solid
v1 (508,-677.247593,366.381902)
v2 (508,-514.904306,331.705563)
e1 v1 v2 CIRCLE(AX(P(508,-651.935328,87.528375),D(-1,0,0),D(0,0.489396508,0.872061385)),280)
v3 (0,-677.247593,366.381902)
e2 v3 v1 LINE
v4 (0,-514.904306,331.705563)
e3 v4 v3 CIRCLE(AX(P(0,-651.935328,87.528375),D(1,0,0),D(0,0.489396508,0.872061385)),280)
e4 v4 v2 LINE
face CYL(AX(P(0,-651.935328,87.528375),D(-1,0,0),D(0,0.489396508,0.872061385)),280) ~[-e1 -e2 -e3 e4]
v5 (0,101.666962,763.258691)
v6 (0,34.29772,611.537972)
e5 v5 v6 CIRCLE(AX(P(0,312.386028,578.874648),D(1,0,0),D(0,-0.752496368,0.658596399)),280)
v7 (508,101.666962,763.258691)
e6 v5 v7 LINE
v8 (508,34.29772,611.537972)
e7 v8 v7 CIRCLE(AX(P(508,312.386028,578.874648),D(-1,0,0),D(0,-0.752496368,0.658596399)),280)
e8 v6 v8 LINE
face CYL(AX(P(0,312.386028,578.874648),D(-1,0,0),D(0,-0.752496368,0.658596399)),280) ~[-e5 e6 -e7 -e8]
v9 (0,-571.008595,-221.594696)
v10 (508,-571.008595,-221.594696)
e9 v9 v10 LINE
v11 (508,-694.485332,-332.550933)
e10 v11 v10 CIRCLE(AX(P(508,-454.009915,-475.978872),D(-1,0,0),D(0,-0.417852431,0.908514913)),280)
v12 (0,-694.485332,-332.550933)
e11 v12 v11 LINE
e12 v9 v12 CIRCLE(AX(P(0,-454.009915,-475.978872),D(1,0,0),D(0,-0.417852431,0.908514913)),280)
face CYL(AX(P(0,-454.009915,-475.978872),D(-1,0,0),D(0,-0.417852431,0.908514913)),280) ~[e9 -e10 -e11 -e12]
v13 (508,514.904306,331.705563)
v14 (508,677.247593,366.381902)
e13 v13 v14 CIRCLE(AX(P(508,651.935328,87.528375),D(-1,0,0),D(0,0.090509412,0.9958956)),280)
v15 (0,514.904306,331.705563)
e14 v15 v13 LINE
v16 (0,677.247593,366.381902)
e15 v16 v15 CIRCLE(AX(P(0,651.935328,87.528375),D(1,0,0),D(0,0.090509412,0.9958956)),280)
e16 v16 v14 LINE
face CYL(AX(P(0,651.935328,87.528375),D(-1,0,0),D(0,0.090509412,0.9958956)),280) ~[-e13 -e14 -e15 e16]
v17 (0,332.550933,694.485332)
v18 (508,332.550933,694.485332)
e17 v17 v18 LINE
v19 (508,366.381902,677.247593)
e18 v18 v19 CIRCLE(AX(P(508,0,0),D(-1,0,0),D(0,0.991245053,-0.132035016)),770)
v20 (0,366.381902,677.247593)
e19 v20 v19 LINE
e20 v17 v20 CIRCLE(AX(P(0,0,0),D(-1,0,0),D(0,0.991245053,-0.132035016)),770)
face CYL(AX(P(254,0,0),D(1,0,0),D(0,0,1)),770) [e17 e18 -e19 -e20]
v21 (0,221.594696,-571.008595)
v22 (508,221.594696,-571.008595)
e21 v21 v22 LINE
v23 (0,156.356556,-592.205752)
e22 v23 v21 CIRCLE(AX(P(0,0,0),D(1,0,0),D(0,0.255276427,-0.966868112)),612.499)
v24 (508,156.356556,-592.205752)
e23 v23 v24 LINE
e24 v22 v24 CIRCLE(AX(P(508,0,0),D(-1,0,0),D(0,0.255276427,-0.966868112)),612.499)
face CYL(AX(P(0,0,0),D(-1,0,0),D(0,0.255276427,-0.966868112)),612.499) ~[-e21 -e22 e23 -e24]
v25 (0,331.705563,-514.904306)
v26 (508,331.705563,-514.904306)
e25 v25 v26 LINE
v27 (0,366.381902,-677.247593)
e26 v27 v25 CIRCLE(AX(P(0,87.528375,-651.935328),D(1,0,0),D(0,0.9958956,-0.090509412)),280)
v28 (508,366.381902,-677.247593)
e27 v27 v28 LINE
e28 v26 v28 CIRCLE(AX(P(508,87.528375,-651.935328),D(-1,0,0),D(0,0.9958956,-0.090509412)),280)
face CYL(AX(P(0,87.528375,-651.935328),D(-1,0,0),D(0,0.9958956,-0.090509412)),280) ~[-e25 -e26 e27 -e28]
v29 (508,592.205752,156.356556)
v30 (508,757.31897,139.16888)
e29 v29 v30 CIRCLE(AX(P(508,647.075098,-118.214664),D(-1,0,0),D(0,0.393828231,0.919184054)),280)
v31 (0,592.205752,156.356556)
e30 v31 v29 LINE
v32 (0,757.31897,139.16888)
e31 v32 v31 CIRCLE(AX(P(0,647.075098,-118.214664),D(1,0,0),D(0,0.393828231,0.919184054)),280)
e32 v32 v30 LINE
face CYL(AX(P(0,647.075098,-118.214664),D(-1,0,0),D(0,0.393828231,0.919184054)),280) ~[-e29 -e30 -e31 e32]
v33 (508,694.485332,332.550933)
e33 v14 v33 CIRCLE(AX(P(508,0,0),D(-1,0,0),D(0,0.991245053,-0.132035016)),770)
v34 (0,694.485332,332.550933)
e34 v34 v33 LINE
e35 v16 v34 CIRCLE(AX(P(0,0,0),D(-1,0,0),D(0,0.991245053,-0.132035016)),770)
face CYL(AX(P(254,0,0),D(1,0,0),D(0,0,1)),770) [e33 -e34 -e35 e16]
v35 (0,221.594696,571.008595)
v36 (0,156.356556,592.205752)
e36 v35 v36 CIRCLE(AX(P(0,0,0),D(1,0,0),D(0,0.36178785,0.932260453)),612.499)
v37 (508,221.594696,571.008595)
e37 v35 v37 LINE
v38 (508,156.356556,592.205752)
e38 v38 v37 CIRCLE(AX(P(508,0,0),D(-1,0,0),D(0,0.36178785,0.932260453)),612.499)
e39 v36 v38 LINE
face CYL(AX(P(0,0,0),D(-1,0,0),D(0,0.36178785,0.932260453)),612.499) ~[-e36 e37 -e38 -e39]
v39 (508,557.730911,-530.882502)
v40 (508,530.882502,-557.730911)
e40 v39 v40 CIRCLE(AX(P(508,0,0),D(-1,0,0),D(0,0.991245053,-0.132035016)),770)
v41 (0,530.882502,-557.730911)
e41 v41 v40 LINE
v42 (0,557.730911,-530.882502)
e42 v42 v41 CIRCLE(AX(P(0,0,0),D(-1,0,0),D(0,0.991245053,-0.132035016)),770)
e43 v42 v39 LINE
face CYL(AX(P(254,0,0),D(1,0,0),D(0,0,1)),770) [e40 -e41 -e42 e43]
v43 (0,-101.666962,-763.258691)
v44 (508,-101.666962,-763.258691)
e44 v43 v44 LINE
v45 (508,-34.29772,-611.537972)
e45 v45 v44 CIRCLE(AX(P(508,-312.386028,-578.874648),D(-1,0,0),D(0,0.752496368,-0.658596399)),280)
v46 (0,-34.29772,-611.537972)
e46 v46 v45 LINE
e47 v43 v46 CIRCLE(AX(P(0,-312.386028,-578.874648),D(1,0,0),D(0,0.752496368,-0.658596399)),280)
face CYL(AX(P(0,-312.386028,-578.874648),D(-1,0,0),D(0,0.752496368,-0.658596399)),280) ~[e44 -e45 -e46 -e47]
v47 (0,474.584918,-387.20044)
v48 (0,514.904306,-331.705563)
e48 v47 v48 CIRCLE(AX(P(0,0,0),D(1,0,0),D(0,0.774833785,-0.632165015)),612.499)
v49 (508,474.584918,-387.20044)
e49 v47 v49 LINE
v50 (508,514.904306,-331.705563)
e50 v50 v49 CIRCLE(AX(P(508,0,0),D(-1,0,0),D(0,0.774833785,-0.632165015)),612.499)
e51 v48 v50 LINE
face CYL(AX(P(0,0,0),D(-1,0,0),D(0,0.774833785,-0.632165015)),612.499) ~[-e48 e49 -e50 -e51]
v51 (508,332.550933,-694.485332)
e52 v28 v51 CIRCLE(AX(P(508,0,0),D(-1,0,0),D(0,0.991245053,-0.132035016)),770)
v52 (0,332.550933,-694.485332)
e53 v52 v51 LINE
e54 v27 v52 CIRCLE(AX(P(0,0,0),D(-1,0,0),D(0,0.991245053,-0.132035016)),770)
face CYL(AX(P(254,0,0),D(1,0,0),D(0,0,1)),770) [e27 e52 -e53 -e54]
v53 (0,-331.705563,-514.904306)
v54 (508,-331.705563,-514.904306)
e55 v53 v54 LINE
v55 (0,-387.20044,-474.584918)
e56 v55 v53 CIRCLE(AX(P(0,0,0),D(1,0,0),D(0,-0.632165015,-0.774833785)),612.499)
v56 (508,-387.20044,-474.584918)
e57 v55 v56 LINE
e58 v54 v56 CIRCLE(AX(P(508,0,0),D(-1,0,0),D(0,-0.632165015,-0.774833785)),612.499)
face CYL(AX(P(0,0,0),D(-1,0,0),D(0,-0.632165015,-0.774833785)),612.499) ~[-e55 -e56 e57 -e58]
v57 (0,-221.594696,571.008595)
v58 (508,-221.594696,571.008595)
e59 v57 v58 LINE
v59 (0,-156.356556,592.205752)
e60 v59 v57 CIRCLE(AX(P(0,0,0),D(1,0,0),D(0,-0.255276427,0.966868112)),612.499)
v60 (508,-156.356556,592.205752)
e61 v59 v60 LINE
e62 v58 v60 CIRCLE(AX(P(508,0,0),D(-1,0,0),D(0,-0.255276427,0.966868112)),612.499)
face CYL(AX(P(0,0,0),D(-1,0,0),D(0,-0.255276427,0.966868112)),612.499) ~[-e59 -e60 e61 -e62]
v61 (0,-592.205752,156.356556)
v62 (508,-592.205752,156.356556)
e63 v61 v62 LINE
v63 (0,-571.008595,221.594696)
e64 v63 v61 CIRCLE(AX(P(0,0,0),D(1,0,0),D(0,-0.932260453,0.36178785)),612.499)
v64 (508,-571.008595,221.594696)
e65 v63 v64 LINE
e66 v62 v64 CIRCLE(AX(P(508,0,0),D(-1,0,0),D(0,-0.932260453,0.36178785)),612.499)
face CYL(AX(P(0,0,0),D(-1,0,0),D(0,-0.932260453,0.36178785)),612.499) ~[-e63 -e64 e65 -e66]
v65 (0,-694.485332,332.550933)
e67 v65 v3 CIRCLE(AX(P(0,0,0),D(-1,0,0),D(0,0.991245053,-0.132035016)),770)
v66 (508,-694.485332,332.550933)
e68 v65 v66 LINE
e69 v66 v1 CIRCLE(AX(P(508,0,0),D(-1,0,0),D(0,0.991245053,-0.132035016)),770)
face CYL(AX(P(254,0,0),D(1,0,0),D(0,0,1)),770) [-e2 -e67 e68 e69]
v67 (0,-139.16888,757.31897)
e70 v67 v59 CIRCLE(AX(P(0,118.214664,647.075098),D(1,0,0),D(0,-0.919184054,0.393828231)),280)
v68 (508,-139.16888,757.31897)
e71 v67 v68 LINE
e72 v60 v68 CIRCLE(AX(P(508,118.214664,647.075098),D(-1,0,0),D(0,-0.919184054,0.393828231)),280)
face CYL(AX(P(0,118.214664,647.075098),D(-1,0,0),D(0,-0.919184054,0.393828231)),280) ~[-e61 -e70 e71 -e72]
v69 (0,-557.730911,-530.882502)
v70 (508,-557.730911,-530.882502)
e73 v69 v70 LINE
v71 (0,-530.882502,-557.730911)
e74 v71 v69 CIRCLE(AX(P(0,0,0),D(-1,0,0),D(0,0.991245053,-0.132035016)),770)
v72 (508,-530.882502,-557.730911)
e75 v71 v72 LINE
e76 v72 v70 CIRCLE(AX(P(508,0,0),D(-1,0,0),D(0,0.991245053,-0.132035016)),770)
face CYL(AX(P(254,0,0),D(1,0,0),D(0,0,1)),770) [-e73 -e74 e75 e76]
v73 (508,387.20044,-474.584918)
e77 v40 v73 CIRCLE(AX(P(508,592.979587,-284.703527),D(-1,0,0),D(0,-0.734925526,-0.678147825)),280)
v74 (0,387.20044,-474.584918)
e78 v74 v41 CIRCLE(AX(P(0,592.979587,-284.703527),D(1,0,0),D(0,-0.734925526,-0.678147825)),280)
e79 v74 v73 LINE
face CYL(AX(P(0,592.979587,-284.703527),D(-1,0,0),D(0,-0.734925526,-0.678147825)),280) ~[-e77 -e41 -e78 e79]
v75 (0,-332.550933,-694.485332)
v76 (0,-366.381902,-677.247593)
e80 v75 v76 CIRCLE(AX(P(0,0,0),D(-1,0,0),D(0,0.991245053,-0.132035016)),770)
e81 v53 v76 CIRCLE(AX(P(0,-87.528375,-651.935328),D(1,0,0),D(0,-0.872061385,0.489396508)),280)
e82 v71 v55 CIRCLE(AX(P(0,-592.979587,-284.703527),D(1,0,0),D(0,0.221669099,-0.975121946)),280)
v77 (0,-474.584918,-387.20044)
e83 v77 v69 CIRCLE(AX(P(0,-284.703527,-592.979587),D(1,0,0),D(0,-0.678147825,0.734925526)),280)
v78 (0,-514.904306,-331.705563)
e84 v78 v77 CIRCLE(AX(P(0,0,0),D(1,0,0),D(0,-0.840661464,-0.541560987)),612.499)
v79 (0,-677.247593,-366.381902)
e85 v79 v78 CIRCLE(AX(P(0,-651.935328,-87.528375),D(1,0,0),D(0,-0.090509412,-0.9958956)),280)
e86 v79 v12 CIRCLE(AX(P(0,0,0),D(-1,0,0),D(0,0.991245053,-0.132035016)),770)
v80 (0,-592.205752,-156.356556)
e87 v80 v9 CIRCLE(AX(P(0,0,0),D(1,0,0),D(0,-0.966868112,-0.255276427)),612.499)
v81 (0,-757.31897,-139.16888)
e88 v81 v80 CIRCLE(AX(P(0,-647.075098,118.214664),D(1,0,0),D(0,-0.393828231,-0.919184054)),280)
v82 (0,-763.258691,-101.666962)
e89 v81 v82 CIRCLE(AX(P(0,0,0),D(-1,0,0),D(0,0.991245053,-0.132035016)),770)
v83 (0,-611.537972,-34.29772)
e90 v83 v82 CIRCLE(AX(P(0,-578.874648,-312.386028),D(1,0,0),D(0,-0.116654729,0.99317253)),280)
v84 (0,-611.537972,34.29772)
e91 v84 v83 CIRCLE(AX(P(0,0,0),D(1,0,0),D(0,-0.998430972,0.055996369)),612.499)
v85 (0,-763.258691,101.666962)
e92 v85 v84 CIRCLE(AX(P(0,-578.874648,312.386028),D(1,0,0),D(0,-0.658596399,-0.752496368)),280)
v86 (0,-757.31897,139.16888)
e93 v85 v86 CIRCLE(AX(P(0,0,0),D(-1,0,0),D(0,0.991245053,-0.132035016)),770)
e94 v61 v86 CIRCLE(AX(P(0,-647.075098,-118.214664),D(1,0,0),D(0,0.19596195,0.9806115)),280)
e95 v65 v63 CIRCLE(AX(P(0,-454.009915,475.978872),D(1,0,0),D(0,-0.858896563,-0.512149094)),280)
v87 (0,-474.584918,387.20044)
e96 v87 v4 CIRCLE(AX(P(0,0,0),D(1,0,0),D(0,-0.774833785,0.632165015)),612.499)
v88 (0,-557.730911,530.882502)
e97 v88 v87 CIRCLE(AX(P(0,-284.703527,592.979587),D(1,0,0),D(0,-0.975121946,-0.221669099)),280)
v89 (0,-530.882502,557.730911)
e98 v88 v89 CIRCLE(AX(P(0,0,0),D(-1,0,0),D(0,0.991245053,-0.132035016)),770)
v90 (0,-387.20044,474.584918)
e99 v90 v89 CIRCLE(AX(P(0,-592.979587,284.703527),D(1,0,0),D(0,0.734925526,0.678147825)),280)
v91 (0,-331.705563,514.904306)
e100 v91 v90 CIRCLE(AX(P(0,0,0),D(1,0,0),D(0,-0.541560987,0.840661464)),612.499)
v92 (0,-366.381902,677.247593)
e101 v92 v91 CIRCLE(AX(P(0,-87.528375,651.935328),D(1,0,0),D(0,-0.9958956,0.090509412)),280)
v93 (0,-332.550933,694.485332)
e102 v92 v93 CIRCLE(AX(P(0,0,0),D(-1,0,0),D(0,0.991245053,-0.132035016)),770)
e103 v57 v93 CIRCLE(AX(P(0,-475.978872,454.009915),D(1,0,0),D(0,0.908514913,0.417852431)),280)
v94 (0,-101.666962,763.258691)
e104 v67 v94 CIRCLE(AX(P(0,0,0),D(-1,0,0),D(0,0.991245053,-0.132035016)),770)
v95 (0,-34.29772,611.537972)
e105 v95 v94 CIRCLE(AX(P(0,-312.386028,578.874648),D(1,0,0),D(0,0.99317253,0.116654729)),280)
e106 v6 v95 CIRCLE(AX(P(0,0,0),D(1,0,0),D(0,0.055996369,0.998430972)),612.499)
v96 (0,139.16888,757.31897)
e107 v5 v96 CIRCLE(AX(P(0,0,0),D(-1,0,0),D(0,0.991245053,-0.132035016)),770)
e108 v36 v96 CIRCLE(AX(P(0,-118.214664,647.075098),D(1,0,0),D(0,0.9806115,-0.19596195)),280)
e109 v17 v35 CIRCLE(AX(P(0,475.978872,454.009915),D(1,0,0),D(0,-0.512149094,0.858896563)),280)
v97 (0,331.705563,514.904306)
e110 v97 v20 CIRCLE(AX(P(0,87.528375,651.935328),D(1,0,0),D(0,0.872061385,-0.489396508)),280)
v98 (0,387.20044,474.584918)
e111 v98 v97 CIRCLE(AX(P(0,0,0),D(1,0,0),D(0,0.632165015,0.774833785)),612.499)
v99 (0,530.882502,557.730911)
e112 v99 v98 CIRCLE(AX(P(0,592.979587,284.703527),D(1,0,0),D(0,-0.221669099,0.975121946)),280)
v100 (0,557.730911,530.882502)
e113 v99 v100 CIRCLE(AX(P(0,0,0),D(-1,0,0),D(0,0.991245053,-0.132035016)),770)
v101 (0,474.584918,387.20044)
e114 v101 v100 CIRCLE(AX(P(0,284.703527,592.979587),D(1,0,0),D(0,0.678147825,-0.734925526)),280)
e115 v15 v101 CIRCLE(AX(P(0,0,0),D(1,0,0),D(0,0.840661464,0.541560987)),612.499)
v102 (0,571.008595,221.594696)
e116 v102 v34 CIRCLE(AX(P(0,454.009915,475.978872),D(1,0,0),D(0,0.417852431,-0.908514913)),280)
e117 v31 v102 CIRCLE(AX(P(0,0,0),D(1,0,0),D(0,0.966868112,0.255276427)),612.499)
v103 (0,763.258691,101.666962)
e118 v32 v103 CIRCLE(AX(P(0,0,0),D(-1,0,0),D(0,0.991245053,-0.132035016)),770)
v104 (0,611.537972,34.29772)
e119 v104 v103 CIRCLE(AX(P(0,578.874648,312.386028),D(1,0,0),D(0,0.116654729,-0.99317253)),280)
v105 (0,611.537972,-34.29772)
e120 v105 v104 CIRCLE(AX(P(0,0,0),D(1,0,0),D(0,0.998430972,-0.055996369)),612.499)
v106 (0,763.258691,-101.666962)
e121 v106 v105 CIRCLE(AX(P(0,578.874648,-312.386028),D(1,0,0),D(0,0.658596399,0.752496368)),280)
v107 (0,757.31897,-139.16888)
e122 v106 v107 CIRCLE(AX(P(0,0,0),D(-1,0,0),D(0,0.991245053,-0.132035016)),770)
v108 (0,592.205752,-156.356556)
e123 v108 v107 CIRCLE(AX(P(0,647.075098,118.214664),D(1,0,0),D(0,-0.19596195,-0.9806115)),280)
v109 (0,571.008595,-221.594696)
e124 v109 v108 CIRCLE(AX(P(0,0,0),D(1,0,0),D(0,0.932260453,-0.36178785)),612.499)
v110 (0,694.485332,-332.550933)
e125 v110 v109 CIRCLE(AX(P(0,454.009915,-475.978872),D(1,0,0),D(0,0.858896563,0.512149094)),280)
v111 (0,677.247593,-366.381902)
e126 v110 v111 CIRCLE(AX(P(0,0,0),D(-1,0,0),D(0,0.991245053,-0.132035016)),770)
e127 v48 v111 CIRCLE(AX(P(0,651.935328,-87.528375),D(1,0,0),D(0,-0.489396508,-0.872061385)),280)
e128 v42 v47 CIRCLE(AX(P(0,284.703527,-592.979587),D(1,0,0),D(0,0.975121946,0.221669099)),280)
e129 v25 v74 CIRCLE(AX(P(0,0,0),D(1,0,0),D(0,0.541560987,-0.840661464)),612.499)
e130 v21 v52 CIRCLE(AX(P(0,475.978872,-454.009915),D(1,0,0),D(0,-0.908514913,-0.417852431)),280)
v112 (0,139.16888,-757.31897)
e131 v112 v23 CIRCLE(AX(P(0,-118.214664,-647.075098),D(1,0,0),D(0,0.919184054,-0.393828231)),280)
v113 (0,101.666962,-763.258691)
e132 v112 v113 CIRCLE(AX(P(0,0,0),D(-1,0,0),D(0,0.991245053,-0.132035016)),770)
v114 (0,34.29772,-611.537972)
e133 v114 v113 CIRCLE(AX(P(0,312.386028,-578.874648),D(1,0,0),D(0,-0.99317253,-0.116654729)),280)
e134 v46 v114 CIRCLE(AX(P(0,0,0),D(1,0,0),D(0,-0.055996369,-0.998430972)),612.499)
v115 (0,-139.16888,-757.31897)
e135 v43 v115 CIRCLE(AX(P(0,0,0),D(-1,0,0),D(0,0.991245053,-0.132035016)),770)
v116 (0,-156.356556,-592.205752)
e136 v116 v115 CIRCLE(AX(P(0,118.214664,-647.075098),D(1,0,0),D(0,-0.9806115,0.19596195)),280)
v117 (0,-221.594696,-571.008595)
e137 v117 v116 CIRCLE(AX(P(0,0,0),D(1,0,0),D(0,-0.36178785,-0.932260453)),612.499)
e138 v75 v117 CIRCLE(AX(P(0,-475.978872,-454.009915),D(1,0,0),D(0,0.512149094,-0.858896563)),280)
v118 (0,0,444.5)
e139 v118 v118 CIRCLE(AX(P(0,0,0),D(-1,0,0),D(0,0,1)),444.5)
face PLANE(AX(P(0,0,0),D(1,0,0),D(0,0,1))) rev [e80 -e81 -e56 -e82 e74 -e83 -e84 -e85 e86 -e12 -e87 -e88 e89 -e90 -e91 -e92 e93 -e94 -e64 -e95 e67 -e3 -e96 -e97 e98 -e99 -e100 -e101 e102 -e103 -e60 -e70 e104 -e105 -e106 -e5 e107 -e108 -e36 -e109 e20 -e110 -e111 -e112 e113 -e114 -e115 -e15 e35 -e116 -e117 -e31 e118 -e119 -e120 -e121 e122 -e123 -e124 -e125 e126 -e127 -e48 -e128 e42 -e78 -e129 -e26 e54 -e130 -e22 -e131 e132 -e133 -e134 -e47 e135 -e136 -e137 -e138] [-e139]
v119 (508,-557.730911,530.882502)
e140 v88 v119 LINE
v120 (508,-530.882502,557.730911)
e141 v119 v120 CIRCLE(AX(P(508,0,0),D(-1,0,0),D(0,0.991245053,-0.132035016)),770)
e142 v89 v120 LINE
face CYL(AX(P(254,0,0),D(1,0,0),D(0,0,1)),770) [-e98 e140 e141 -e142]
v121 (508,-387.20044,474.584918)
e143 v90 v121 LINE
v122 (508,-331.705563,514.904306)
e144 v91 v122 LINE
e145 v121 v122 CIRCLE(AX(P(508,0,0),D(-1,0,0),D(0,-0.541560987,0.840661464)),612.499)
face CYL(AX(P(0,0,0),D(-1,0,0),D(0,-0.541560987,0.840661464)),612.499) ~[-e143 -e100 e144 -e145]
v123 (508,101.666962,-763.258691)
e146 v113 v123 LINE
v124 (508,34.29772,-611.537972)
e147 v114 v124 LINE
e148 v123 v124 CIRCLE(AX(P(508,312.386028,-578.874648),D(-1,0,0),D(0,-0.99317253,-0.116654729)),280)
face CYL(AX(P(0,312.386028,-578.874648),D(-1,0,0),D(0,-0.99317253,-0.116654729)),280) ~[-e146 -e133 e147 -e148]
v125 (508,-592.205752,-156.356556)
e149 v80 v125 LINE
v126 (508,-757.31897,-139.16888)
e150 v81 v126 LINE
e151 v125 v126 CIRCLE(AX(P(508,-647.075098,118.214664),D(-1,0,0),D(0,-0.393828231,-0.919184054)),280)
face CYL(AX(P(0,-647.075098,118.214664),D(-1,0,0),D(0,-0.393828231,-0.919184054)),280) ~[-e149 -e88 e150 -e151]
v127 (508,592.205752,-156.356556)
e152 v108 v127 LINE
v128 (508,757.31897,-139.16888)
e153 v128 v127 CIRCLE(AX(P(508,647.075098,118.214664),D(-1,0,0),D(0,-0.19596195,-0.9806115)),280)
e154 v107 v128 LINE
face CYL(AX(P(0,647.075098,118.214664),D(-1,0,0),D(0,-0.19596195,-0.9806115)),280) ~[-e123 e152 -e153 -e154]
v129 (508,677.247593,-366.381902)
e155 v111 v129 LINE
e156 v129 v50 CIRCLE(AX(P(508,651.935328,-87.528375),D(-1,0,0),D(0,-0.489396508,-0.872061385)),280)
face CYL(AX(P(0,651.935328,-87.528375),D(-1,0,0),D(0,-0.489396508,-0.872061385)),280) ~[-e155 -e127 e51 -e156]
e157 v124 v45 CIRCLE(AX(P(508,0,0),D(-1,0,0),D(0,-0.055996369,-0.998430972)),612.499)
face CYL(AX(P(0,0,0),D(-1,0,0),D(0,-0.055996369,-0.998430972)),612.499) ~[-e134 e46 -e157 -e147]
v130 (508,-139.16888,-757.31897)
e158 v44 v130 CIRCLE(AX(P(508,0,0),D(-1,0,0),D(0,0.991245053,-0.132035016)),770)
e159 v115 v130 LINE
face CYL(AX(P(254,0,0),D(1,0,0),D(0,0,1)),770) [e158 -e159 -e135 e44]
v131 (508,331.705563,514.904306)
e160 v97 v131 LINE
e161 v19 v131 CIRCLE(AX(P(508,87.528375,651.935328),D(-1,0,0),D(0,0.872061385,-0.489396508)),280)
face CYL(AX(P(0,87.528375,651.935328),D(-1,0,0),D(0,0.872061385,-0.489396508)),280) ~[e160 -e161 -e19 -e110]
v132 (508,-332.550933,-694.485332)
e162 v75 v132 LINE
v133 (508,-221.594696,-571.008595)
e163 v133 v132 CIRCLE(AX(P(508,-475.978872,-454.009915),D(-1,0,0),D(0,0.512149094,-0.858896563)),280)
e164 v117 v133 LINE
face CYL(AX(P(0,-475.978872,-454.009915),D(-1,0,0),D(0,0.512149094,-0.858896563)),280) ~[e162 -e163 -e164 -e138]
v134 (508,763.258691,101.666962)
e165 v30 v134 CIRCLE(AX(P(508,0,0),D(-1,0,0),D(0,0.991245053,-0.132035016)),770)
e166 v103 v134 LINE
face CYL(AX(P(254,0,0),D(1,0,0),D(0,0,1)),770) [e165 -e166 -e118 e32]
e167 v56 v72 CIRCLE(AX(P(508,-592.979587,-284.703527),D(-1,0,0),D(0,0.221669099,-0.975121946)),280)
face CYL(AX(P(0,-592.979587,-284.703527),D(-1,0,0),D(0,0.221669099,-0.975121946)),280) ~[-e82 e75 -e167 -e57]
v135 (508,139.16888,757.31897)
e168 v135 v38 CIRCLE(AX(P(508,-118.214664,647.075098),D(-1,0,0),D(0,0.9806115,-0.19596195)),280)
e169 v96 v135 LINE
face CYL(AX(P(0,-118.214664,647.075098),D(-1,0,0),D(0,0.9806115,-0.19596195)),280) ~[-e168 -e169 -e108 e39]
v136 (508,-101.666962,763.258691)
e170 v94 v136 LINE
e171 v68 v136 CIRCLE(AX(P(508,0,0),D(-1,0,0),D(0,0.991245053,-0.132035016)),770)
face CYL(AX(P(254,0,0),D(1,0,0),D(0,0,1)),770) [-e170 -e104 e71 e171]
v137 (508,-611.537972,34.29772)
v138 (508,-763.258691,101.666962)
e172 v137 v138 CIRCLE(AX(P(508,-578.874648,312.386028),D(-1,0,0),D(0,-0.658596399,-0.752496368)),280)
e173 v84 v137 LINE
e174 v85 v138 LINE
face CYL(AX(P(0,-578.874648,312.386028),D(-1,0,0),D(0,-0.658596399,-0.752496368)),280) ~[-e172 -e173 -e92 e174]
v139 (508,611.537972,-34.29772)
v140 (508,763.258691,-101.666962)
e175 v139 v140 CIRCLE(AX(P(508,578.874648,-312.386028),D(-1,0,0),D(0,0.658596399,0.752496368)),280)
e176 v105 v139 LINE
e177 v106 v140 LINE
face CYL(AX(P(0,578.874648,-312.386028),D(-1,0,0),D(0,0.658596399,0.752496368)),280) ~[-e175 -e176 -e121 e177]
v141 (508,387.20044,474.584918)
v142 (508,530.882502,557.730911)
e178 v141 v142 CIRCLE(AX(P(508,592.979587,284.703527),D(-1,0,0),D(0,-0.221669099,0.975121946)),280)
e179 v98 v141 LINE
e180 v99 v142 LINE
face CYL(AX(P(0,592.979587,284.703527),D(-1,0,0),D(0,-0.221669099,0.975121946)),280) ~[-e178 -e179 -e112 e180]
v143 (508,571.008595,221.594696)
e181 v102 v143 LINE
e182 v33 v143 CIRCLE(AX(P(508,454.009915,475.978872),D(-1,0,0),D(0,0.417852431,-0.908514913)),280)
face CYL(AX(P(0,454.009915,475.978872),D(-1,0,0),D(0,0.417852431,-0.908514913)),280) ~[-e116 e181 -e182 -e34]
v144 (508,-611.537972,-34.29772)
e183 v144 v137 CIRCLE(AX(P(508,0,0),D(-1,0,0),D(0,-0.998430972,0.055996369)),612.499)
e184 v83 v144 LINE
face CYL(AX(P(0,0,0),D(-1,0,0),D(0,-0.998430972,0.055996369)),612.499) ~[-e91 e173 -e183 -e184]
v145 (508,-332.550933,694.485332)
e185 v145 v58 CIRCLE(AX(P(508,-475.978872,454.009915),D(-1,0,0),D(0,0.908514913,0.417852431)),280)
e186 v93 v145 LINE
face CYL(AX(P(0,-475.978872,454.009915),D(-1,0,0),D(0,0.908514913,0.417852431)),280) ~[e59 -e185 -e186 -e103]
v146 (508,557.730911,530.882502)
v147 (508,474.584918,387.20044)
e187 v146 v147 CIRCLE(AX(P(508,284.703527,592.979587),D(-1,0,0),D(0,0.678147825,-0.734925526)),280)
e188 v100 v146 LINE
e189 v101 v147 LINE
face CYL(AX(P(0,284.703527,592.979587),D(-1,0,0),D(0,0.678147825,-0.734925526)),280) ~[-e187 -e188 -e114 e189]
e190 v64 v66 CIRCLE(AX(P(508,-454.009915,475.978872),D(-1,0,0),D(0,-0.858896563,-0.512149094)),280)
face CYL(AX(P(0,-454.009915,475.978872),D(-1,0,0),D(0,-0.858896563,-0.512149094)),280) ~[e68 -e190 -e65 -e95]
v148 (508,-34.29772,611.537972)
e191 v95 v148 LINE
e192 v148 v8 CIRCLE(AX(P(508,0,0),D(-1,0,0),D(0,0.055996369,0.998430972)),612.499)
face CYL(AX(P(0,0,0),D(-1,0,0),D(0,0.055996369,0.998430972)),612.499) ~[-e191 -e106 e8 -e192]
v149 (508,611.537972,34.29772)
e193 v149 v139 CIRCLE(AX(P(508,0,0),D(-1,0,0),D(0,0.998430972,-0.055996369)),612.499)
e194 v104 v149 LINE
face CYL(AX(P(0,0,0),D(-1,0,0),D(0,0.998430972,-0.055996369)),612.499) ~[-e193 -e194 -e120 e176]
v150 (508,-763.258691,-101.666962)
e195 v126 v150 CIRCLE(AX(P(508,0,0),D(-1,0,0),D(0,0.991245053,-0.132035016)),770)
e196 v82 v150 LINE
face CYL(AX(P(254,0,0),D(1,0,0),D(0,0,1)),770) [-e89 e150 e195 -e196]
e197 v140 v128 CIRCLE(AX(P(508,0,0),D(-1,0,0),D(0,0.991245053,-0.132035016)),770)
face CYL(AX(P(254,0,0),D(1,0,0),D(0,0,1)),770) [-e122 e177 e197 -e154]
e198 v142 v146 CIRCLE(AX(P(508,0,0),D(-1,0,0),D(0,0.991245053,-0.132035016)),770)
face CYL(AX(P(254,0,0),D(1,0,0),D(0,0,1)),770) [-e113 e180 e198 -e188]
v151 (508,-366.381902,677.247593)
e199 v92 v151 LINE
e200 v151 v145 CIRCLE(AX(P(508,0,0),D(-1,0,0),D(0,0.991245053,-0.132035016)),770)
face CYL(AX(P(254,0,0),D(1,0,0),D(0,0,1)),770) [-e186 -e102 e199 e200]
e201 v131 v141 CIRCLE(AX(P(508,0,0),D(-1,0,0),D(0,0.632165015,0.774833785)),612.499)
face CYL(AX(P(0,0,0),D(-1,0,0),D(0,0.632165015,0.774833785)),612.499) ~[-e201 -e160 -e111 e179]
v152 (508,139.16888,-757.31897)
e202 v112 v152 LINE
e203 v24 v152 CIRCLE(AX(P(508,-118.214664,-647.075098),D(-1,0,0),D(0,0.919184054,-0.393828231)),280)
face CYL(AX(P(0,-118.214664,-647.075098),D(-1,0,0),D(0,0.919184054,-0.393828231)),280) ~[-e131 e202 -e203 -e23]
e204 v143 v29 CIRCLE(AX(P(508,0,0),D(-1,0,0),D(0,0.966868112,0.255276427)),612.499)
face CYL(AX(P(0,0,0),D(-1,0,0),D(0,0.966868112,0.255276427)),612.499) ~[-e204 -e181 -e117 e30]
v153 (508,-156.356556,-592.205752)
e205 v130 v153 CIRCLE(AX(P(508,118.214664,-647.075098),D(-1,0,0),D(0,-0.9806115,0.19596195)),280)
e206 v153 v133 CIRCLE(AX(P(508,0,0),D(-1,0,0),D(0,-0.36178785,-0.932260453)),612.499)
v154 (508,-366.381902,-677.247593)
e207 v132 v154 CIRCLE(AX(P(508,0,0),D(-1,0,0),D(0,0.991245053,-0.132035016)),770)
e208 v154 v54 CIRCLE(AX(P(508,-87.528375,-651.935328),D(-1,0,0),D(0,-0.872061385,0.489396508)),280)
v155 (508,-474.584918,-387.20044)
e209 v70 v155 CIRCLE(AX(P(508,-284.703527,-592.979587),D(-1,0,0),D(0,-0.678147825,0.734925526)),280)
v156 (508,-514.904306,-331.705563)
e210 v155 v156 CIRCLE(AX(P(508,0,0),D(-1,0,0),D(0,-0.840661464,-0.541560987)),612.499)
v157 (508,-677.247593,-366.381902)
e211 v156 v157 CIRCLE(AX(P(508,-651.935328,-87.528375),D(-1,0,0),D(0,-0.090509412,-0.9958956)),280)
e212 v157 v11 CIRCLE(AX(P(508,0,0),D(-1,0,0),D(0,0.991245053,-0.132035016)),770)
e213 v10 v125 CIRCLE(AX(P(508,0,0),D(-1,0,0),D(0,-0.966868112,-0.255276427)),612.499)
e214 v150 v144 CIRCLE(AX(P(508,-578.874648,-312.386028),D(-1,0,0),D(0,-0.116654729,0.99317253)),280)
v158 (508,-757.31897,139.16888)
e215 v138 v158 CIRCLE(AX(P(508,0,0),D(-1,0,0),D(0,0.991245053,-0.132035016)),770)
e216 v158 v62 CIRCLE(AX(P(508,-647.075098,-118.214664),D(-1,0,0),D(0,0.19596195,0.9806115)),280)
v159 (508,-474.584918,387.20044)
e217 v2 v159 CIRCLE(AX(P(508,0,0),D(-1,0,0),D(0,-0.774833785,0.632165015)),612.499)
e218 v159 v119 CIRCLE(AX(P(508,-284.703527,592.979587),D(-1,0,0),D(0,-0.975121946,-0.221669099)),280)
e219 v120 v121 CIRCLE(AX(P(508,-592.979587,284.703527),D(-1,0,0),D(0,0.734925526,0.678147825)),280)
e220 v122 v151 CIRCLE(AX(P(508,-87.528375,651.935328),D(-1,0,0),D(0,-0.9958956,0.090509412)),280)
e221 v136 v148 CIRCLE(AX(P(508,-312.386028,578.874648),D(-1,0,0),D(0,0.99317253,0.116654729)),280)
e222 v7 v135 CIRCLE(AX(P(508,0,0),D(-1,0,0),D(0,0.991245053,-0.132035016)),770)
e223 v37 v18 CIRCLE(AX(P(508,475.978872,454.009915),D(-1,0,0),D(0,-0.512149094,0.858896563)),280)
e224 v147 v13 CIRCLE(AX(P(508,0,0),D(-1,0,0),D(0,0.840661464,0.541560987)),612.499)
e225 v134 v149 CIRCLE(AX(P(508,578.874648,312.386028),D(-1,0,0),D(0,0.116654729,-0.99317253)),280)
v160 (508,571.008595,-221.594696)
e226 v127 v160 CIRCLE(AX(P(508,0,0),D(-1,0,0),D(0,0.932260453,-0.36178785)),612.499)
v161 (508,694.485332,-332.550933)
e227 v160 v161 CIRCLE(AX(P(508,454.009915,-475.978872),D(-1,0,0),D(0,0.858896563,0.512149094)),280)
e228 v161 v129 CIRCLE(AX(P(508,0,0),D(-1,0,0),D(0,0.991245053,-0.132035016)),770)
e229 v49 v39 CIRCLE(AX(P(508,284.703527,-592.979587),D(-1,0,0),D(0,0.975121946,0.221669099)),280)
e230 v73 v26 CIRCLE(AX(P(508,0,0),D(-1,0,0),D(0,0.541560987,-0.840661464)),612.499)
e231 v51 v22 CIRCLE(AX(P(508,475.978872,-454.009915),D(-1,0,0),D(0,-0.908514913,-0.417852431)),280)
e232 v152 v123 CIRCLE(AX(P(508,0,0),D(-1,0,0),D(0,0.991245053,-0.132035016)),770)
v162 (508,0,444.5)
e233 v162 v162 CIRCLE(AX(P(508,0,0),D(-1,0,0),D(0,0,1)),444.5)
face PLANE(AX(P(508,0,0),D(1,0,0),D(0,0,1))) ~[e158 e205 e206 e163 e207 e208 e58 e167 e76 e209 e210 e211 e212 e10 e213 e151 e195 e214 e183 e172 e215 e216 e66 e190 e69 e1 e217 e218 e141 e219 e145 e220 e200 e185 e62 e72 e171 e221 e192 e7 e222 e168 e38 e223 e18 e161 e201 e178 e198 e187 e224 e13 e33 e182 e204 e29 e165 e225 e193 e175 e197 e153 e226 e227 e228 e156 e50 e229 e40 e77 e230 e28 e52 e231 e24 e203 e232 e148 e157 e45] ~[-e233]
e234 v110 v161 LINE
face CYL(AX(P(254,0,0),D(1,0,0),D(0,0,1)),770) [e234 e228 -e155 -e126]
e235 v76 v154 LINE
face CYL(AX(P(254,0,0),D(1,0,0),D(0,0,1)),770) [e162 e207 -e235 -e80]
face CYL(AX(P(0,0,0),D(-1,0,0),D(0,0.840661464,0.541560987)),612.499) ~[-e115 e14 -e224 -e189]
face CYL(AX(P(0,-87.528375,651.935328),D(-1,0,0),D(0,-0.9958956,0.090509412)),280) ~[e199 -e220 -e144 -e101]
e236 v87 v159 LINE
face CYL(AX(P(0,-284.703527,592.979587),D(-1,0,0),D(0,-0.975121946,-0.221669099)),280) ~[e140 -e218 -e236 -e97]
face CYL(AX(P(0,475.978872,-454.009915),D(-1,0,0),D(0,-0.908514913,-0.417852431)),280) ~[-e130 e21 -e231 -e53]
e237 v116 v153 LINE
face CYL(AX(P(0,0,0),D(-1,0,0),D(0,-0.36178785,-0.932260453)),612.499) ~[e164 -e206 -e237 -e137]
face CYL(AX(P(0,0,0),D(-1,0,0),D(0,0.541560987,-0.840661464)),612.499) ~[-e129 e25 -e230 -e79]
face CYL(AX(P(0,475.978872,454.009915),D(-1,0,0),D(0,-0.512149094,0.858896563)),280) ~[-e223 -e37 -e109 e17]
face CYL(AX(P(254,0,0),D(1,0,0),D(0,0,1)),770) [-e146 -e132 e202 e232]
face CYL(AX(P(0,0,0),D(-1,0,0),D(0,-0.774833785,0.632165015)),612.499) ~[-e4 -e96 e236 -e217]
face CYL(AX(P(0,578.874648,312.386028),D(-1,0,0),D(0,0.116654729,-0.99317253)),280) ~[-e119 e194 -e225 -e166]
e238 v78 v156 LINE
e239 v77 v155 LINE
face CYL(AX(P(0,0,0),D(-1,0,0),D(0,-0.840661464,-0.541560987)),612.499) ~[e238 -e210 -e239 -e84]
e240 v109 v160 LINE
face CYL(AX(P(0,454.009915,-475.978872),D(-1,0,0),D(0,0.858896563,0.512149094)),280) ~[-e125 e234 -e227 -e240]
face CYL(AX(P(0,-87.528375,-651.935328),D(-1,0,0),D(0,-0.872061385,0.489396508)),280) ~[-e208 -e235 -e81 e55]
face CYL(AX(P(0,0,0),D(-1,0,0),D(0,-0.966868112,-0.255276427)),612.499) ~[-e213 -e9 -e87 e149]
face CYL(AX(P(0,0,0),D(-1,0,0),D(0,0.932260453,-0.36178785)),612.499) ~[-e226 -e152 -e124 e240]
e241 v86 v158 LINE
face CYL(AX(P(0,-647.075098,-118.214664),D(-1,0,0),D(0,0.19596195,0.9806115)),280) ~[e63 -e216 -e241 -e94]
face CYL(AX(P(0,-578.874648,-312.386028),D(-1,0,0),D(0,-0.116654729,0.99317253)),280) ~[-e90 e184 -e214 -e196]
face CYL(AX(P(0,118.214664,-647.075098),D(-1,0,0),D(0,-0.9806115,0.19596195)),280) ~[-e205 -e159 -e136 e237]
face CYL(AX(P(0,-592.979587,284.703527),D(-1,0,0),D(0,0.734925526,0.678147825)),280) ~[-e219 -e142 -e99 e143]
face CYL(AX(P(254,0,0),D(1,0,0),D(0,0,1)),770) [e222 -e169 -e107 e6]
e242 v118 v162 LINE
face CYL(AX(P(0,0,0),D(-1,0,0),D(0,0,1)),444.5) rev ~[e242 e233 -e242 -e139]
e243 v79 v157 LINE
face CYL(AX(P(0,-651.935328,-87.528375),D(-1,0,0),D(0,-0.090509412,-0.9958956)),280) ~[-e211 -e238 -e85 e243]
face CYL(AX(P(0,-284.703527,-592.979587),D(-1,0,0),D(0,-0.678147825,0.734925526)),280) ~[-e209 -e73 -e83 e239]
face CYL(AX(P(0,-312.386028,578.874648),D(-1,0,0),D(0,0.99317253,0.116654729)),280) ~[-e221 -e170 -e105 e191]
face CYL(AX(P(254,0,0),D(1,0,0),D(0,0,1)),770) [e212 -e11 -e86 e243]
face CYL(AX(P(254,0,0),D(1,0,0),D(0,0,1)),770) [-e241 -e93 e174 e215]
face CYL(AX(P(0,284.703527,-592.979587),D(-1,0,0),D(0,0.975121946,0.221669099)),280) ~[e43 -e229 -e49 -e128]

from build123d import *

# Parameters (mm, degrees)
BASPROSKE_W        = 508
BASPROSKE_H        = 770
TOOTHCUT_DEPTH     = 1202.608921405
TEETHCUTS_COUNT    = 20
TEETHCUTS_ANGLE    = 342
BORSKE_R           = 250
BORE_DEPTH         = 508.0000508
SKETCH1_R          = 444.5
CUT_EXTRUDE1_DEPTH = 508


with BuildPart() as part:
    # BasProSke → Base-Revolve (revolve)
    with BuildSketch(Plane(origin=(0, 0, 0), x_dir=(1, 0, 0), z_dir=(0, 1, 0)), mode=Mode.PRIVATE) as base_revolve_sk:
        with Locations((254, 385)):
            Rectangle(BASPROSKE_W, BASPROSKE_H)
    revolve(base_revolve_sk.sketch.rotate(Axis((-10, 0, 0), (1, 0, 0)), 180), axis=Axis((-10, 0, 0), (1, 0, 0)))

    # TooCutSke → ToothCut (cut, through all)
    with BuildSketch(Plane(origin=(0, 0, 0), x_dir=(0, 0, -1), z_dir=(1, 0, 0))):
        with BuildLine():
            ThreePointArc((34.297719874, 611.537972175), (0, 612.499), (-34.297719874, 611.537972175))
            ThreePointArc((-34.297719874, 611.537972175), (-56.486068903, 692.519757006), (-101.687045314, 763.281639672))
            ThreePointArc((-101.687045314, 763.281639672), (0, 770.0254), (101.687045314, 763.281639672))
            ThreePointArc((101.687045314, 763.281639672), (56.486068903, 692.519757006), (34.297719874, 611.537972175))
        make_face()
    toothcut = extrude(amount=TOOTHCUT_DEPTH, mode=Mode.SUBTRACT)

    # TeethCuts: ToothCut ×20 about axis
    teethcuts_axis = Axis((-10, 0, 0), (1, 0, 0))
    for i in range(1, TEETHCUTS_COUNT):
        add(toothcut.rotate(teethcuts_axis, i * TEETHCUTS_ANGLE / (TEETHCUTS_COUNT - 1)), mode=Mode.SUBTRACT)

    # BorSke → Bore (cut, symmetric)
    with BuildSketch(Plane(origin=(0, 0, 0), x_dir=(0, 0, -1), z_dir=(1, 0, 0))):
        with Locations(Location((0, 0, 0), (0, 0, 180))):
            Circle(BORSKE_R)
    extrude(amount=BORE_DEPTH, both=True, mode=Mode.SUBTRACT)

    # Sketch1 → Cut-Extrude1 (cut)
    with BuildSketch(Plane.ZY):
        Circle(SKETCH1_R)
    extrude(amount=-CUT_EXTRUDE1_DEPTH, mode=Mode.SUBTRACT)


solid = part.part
